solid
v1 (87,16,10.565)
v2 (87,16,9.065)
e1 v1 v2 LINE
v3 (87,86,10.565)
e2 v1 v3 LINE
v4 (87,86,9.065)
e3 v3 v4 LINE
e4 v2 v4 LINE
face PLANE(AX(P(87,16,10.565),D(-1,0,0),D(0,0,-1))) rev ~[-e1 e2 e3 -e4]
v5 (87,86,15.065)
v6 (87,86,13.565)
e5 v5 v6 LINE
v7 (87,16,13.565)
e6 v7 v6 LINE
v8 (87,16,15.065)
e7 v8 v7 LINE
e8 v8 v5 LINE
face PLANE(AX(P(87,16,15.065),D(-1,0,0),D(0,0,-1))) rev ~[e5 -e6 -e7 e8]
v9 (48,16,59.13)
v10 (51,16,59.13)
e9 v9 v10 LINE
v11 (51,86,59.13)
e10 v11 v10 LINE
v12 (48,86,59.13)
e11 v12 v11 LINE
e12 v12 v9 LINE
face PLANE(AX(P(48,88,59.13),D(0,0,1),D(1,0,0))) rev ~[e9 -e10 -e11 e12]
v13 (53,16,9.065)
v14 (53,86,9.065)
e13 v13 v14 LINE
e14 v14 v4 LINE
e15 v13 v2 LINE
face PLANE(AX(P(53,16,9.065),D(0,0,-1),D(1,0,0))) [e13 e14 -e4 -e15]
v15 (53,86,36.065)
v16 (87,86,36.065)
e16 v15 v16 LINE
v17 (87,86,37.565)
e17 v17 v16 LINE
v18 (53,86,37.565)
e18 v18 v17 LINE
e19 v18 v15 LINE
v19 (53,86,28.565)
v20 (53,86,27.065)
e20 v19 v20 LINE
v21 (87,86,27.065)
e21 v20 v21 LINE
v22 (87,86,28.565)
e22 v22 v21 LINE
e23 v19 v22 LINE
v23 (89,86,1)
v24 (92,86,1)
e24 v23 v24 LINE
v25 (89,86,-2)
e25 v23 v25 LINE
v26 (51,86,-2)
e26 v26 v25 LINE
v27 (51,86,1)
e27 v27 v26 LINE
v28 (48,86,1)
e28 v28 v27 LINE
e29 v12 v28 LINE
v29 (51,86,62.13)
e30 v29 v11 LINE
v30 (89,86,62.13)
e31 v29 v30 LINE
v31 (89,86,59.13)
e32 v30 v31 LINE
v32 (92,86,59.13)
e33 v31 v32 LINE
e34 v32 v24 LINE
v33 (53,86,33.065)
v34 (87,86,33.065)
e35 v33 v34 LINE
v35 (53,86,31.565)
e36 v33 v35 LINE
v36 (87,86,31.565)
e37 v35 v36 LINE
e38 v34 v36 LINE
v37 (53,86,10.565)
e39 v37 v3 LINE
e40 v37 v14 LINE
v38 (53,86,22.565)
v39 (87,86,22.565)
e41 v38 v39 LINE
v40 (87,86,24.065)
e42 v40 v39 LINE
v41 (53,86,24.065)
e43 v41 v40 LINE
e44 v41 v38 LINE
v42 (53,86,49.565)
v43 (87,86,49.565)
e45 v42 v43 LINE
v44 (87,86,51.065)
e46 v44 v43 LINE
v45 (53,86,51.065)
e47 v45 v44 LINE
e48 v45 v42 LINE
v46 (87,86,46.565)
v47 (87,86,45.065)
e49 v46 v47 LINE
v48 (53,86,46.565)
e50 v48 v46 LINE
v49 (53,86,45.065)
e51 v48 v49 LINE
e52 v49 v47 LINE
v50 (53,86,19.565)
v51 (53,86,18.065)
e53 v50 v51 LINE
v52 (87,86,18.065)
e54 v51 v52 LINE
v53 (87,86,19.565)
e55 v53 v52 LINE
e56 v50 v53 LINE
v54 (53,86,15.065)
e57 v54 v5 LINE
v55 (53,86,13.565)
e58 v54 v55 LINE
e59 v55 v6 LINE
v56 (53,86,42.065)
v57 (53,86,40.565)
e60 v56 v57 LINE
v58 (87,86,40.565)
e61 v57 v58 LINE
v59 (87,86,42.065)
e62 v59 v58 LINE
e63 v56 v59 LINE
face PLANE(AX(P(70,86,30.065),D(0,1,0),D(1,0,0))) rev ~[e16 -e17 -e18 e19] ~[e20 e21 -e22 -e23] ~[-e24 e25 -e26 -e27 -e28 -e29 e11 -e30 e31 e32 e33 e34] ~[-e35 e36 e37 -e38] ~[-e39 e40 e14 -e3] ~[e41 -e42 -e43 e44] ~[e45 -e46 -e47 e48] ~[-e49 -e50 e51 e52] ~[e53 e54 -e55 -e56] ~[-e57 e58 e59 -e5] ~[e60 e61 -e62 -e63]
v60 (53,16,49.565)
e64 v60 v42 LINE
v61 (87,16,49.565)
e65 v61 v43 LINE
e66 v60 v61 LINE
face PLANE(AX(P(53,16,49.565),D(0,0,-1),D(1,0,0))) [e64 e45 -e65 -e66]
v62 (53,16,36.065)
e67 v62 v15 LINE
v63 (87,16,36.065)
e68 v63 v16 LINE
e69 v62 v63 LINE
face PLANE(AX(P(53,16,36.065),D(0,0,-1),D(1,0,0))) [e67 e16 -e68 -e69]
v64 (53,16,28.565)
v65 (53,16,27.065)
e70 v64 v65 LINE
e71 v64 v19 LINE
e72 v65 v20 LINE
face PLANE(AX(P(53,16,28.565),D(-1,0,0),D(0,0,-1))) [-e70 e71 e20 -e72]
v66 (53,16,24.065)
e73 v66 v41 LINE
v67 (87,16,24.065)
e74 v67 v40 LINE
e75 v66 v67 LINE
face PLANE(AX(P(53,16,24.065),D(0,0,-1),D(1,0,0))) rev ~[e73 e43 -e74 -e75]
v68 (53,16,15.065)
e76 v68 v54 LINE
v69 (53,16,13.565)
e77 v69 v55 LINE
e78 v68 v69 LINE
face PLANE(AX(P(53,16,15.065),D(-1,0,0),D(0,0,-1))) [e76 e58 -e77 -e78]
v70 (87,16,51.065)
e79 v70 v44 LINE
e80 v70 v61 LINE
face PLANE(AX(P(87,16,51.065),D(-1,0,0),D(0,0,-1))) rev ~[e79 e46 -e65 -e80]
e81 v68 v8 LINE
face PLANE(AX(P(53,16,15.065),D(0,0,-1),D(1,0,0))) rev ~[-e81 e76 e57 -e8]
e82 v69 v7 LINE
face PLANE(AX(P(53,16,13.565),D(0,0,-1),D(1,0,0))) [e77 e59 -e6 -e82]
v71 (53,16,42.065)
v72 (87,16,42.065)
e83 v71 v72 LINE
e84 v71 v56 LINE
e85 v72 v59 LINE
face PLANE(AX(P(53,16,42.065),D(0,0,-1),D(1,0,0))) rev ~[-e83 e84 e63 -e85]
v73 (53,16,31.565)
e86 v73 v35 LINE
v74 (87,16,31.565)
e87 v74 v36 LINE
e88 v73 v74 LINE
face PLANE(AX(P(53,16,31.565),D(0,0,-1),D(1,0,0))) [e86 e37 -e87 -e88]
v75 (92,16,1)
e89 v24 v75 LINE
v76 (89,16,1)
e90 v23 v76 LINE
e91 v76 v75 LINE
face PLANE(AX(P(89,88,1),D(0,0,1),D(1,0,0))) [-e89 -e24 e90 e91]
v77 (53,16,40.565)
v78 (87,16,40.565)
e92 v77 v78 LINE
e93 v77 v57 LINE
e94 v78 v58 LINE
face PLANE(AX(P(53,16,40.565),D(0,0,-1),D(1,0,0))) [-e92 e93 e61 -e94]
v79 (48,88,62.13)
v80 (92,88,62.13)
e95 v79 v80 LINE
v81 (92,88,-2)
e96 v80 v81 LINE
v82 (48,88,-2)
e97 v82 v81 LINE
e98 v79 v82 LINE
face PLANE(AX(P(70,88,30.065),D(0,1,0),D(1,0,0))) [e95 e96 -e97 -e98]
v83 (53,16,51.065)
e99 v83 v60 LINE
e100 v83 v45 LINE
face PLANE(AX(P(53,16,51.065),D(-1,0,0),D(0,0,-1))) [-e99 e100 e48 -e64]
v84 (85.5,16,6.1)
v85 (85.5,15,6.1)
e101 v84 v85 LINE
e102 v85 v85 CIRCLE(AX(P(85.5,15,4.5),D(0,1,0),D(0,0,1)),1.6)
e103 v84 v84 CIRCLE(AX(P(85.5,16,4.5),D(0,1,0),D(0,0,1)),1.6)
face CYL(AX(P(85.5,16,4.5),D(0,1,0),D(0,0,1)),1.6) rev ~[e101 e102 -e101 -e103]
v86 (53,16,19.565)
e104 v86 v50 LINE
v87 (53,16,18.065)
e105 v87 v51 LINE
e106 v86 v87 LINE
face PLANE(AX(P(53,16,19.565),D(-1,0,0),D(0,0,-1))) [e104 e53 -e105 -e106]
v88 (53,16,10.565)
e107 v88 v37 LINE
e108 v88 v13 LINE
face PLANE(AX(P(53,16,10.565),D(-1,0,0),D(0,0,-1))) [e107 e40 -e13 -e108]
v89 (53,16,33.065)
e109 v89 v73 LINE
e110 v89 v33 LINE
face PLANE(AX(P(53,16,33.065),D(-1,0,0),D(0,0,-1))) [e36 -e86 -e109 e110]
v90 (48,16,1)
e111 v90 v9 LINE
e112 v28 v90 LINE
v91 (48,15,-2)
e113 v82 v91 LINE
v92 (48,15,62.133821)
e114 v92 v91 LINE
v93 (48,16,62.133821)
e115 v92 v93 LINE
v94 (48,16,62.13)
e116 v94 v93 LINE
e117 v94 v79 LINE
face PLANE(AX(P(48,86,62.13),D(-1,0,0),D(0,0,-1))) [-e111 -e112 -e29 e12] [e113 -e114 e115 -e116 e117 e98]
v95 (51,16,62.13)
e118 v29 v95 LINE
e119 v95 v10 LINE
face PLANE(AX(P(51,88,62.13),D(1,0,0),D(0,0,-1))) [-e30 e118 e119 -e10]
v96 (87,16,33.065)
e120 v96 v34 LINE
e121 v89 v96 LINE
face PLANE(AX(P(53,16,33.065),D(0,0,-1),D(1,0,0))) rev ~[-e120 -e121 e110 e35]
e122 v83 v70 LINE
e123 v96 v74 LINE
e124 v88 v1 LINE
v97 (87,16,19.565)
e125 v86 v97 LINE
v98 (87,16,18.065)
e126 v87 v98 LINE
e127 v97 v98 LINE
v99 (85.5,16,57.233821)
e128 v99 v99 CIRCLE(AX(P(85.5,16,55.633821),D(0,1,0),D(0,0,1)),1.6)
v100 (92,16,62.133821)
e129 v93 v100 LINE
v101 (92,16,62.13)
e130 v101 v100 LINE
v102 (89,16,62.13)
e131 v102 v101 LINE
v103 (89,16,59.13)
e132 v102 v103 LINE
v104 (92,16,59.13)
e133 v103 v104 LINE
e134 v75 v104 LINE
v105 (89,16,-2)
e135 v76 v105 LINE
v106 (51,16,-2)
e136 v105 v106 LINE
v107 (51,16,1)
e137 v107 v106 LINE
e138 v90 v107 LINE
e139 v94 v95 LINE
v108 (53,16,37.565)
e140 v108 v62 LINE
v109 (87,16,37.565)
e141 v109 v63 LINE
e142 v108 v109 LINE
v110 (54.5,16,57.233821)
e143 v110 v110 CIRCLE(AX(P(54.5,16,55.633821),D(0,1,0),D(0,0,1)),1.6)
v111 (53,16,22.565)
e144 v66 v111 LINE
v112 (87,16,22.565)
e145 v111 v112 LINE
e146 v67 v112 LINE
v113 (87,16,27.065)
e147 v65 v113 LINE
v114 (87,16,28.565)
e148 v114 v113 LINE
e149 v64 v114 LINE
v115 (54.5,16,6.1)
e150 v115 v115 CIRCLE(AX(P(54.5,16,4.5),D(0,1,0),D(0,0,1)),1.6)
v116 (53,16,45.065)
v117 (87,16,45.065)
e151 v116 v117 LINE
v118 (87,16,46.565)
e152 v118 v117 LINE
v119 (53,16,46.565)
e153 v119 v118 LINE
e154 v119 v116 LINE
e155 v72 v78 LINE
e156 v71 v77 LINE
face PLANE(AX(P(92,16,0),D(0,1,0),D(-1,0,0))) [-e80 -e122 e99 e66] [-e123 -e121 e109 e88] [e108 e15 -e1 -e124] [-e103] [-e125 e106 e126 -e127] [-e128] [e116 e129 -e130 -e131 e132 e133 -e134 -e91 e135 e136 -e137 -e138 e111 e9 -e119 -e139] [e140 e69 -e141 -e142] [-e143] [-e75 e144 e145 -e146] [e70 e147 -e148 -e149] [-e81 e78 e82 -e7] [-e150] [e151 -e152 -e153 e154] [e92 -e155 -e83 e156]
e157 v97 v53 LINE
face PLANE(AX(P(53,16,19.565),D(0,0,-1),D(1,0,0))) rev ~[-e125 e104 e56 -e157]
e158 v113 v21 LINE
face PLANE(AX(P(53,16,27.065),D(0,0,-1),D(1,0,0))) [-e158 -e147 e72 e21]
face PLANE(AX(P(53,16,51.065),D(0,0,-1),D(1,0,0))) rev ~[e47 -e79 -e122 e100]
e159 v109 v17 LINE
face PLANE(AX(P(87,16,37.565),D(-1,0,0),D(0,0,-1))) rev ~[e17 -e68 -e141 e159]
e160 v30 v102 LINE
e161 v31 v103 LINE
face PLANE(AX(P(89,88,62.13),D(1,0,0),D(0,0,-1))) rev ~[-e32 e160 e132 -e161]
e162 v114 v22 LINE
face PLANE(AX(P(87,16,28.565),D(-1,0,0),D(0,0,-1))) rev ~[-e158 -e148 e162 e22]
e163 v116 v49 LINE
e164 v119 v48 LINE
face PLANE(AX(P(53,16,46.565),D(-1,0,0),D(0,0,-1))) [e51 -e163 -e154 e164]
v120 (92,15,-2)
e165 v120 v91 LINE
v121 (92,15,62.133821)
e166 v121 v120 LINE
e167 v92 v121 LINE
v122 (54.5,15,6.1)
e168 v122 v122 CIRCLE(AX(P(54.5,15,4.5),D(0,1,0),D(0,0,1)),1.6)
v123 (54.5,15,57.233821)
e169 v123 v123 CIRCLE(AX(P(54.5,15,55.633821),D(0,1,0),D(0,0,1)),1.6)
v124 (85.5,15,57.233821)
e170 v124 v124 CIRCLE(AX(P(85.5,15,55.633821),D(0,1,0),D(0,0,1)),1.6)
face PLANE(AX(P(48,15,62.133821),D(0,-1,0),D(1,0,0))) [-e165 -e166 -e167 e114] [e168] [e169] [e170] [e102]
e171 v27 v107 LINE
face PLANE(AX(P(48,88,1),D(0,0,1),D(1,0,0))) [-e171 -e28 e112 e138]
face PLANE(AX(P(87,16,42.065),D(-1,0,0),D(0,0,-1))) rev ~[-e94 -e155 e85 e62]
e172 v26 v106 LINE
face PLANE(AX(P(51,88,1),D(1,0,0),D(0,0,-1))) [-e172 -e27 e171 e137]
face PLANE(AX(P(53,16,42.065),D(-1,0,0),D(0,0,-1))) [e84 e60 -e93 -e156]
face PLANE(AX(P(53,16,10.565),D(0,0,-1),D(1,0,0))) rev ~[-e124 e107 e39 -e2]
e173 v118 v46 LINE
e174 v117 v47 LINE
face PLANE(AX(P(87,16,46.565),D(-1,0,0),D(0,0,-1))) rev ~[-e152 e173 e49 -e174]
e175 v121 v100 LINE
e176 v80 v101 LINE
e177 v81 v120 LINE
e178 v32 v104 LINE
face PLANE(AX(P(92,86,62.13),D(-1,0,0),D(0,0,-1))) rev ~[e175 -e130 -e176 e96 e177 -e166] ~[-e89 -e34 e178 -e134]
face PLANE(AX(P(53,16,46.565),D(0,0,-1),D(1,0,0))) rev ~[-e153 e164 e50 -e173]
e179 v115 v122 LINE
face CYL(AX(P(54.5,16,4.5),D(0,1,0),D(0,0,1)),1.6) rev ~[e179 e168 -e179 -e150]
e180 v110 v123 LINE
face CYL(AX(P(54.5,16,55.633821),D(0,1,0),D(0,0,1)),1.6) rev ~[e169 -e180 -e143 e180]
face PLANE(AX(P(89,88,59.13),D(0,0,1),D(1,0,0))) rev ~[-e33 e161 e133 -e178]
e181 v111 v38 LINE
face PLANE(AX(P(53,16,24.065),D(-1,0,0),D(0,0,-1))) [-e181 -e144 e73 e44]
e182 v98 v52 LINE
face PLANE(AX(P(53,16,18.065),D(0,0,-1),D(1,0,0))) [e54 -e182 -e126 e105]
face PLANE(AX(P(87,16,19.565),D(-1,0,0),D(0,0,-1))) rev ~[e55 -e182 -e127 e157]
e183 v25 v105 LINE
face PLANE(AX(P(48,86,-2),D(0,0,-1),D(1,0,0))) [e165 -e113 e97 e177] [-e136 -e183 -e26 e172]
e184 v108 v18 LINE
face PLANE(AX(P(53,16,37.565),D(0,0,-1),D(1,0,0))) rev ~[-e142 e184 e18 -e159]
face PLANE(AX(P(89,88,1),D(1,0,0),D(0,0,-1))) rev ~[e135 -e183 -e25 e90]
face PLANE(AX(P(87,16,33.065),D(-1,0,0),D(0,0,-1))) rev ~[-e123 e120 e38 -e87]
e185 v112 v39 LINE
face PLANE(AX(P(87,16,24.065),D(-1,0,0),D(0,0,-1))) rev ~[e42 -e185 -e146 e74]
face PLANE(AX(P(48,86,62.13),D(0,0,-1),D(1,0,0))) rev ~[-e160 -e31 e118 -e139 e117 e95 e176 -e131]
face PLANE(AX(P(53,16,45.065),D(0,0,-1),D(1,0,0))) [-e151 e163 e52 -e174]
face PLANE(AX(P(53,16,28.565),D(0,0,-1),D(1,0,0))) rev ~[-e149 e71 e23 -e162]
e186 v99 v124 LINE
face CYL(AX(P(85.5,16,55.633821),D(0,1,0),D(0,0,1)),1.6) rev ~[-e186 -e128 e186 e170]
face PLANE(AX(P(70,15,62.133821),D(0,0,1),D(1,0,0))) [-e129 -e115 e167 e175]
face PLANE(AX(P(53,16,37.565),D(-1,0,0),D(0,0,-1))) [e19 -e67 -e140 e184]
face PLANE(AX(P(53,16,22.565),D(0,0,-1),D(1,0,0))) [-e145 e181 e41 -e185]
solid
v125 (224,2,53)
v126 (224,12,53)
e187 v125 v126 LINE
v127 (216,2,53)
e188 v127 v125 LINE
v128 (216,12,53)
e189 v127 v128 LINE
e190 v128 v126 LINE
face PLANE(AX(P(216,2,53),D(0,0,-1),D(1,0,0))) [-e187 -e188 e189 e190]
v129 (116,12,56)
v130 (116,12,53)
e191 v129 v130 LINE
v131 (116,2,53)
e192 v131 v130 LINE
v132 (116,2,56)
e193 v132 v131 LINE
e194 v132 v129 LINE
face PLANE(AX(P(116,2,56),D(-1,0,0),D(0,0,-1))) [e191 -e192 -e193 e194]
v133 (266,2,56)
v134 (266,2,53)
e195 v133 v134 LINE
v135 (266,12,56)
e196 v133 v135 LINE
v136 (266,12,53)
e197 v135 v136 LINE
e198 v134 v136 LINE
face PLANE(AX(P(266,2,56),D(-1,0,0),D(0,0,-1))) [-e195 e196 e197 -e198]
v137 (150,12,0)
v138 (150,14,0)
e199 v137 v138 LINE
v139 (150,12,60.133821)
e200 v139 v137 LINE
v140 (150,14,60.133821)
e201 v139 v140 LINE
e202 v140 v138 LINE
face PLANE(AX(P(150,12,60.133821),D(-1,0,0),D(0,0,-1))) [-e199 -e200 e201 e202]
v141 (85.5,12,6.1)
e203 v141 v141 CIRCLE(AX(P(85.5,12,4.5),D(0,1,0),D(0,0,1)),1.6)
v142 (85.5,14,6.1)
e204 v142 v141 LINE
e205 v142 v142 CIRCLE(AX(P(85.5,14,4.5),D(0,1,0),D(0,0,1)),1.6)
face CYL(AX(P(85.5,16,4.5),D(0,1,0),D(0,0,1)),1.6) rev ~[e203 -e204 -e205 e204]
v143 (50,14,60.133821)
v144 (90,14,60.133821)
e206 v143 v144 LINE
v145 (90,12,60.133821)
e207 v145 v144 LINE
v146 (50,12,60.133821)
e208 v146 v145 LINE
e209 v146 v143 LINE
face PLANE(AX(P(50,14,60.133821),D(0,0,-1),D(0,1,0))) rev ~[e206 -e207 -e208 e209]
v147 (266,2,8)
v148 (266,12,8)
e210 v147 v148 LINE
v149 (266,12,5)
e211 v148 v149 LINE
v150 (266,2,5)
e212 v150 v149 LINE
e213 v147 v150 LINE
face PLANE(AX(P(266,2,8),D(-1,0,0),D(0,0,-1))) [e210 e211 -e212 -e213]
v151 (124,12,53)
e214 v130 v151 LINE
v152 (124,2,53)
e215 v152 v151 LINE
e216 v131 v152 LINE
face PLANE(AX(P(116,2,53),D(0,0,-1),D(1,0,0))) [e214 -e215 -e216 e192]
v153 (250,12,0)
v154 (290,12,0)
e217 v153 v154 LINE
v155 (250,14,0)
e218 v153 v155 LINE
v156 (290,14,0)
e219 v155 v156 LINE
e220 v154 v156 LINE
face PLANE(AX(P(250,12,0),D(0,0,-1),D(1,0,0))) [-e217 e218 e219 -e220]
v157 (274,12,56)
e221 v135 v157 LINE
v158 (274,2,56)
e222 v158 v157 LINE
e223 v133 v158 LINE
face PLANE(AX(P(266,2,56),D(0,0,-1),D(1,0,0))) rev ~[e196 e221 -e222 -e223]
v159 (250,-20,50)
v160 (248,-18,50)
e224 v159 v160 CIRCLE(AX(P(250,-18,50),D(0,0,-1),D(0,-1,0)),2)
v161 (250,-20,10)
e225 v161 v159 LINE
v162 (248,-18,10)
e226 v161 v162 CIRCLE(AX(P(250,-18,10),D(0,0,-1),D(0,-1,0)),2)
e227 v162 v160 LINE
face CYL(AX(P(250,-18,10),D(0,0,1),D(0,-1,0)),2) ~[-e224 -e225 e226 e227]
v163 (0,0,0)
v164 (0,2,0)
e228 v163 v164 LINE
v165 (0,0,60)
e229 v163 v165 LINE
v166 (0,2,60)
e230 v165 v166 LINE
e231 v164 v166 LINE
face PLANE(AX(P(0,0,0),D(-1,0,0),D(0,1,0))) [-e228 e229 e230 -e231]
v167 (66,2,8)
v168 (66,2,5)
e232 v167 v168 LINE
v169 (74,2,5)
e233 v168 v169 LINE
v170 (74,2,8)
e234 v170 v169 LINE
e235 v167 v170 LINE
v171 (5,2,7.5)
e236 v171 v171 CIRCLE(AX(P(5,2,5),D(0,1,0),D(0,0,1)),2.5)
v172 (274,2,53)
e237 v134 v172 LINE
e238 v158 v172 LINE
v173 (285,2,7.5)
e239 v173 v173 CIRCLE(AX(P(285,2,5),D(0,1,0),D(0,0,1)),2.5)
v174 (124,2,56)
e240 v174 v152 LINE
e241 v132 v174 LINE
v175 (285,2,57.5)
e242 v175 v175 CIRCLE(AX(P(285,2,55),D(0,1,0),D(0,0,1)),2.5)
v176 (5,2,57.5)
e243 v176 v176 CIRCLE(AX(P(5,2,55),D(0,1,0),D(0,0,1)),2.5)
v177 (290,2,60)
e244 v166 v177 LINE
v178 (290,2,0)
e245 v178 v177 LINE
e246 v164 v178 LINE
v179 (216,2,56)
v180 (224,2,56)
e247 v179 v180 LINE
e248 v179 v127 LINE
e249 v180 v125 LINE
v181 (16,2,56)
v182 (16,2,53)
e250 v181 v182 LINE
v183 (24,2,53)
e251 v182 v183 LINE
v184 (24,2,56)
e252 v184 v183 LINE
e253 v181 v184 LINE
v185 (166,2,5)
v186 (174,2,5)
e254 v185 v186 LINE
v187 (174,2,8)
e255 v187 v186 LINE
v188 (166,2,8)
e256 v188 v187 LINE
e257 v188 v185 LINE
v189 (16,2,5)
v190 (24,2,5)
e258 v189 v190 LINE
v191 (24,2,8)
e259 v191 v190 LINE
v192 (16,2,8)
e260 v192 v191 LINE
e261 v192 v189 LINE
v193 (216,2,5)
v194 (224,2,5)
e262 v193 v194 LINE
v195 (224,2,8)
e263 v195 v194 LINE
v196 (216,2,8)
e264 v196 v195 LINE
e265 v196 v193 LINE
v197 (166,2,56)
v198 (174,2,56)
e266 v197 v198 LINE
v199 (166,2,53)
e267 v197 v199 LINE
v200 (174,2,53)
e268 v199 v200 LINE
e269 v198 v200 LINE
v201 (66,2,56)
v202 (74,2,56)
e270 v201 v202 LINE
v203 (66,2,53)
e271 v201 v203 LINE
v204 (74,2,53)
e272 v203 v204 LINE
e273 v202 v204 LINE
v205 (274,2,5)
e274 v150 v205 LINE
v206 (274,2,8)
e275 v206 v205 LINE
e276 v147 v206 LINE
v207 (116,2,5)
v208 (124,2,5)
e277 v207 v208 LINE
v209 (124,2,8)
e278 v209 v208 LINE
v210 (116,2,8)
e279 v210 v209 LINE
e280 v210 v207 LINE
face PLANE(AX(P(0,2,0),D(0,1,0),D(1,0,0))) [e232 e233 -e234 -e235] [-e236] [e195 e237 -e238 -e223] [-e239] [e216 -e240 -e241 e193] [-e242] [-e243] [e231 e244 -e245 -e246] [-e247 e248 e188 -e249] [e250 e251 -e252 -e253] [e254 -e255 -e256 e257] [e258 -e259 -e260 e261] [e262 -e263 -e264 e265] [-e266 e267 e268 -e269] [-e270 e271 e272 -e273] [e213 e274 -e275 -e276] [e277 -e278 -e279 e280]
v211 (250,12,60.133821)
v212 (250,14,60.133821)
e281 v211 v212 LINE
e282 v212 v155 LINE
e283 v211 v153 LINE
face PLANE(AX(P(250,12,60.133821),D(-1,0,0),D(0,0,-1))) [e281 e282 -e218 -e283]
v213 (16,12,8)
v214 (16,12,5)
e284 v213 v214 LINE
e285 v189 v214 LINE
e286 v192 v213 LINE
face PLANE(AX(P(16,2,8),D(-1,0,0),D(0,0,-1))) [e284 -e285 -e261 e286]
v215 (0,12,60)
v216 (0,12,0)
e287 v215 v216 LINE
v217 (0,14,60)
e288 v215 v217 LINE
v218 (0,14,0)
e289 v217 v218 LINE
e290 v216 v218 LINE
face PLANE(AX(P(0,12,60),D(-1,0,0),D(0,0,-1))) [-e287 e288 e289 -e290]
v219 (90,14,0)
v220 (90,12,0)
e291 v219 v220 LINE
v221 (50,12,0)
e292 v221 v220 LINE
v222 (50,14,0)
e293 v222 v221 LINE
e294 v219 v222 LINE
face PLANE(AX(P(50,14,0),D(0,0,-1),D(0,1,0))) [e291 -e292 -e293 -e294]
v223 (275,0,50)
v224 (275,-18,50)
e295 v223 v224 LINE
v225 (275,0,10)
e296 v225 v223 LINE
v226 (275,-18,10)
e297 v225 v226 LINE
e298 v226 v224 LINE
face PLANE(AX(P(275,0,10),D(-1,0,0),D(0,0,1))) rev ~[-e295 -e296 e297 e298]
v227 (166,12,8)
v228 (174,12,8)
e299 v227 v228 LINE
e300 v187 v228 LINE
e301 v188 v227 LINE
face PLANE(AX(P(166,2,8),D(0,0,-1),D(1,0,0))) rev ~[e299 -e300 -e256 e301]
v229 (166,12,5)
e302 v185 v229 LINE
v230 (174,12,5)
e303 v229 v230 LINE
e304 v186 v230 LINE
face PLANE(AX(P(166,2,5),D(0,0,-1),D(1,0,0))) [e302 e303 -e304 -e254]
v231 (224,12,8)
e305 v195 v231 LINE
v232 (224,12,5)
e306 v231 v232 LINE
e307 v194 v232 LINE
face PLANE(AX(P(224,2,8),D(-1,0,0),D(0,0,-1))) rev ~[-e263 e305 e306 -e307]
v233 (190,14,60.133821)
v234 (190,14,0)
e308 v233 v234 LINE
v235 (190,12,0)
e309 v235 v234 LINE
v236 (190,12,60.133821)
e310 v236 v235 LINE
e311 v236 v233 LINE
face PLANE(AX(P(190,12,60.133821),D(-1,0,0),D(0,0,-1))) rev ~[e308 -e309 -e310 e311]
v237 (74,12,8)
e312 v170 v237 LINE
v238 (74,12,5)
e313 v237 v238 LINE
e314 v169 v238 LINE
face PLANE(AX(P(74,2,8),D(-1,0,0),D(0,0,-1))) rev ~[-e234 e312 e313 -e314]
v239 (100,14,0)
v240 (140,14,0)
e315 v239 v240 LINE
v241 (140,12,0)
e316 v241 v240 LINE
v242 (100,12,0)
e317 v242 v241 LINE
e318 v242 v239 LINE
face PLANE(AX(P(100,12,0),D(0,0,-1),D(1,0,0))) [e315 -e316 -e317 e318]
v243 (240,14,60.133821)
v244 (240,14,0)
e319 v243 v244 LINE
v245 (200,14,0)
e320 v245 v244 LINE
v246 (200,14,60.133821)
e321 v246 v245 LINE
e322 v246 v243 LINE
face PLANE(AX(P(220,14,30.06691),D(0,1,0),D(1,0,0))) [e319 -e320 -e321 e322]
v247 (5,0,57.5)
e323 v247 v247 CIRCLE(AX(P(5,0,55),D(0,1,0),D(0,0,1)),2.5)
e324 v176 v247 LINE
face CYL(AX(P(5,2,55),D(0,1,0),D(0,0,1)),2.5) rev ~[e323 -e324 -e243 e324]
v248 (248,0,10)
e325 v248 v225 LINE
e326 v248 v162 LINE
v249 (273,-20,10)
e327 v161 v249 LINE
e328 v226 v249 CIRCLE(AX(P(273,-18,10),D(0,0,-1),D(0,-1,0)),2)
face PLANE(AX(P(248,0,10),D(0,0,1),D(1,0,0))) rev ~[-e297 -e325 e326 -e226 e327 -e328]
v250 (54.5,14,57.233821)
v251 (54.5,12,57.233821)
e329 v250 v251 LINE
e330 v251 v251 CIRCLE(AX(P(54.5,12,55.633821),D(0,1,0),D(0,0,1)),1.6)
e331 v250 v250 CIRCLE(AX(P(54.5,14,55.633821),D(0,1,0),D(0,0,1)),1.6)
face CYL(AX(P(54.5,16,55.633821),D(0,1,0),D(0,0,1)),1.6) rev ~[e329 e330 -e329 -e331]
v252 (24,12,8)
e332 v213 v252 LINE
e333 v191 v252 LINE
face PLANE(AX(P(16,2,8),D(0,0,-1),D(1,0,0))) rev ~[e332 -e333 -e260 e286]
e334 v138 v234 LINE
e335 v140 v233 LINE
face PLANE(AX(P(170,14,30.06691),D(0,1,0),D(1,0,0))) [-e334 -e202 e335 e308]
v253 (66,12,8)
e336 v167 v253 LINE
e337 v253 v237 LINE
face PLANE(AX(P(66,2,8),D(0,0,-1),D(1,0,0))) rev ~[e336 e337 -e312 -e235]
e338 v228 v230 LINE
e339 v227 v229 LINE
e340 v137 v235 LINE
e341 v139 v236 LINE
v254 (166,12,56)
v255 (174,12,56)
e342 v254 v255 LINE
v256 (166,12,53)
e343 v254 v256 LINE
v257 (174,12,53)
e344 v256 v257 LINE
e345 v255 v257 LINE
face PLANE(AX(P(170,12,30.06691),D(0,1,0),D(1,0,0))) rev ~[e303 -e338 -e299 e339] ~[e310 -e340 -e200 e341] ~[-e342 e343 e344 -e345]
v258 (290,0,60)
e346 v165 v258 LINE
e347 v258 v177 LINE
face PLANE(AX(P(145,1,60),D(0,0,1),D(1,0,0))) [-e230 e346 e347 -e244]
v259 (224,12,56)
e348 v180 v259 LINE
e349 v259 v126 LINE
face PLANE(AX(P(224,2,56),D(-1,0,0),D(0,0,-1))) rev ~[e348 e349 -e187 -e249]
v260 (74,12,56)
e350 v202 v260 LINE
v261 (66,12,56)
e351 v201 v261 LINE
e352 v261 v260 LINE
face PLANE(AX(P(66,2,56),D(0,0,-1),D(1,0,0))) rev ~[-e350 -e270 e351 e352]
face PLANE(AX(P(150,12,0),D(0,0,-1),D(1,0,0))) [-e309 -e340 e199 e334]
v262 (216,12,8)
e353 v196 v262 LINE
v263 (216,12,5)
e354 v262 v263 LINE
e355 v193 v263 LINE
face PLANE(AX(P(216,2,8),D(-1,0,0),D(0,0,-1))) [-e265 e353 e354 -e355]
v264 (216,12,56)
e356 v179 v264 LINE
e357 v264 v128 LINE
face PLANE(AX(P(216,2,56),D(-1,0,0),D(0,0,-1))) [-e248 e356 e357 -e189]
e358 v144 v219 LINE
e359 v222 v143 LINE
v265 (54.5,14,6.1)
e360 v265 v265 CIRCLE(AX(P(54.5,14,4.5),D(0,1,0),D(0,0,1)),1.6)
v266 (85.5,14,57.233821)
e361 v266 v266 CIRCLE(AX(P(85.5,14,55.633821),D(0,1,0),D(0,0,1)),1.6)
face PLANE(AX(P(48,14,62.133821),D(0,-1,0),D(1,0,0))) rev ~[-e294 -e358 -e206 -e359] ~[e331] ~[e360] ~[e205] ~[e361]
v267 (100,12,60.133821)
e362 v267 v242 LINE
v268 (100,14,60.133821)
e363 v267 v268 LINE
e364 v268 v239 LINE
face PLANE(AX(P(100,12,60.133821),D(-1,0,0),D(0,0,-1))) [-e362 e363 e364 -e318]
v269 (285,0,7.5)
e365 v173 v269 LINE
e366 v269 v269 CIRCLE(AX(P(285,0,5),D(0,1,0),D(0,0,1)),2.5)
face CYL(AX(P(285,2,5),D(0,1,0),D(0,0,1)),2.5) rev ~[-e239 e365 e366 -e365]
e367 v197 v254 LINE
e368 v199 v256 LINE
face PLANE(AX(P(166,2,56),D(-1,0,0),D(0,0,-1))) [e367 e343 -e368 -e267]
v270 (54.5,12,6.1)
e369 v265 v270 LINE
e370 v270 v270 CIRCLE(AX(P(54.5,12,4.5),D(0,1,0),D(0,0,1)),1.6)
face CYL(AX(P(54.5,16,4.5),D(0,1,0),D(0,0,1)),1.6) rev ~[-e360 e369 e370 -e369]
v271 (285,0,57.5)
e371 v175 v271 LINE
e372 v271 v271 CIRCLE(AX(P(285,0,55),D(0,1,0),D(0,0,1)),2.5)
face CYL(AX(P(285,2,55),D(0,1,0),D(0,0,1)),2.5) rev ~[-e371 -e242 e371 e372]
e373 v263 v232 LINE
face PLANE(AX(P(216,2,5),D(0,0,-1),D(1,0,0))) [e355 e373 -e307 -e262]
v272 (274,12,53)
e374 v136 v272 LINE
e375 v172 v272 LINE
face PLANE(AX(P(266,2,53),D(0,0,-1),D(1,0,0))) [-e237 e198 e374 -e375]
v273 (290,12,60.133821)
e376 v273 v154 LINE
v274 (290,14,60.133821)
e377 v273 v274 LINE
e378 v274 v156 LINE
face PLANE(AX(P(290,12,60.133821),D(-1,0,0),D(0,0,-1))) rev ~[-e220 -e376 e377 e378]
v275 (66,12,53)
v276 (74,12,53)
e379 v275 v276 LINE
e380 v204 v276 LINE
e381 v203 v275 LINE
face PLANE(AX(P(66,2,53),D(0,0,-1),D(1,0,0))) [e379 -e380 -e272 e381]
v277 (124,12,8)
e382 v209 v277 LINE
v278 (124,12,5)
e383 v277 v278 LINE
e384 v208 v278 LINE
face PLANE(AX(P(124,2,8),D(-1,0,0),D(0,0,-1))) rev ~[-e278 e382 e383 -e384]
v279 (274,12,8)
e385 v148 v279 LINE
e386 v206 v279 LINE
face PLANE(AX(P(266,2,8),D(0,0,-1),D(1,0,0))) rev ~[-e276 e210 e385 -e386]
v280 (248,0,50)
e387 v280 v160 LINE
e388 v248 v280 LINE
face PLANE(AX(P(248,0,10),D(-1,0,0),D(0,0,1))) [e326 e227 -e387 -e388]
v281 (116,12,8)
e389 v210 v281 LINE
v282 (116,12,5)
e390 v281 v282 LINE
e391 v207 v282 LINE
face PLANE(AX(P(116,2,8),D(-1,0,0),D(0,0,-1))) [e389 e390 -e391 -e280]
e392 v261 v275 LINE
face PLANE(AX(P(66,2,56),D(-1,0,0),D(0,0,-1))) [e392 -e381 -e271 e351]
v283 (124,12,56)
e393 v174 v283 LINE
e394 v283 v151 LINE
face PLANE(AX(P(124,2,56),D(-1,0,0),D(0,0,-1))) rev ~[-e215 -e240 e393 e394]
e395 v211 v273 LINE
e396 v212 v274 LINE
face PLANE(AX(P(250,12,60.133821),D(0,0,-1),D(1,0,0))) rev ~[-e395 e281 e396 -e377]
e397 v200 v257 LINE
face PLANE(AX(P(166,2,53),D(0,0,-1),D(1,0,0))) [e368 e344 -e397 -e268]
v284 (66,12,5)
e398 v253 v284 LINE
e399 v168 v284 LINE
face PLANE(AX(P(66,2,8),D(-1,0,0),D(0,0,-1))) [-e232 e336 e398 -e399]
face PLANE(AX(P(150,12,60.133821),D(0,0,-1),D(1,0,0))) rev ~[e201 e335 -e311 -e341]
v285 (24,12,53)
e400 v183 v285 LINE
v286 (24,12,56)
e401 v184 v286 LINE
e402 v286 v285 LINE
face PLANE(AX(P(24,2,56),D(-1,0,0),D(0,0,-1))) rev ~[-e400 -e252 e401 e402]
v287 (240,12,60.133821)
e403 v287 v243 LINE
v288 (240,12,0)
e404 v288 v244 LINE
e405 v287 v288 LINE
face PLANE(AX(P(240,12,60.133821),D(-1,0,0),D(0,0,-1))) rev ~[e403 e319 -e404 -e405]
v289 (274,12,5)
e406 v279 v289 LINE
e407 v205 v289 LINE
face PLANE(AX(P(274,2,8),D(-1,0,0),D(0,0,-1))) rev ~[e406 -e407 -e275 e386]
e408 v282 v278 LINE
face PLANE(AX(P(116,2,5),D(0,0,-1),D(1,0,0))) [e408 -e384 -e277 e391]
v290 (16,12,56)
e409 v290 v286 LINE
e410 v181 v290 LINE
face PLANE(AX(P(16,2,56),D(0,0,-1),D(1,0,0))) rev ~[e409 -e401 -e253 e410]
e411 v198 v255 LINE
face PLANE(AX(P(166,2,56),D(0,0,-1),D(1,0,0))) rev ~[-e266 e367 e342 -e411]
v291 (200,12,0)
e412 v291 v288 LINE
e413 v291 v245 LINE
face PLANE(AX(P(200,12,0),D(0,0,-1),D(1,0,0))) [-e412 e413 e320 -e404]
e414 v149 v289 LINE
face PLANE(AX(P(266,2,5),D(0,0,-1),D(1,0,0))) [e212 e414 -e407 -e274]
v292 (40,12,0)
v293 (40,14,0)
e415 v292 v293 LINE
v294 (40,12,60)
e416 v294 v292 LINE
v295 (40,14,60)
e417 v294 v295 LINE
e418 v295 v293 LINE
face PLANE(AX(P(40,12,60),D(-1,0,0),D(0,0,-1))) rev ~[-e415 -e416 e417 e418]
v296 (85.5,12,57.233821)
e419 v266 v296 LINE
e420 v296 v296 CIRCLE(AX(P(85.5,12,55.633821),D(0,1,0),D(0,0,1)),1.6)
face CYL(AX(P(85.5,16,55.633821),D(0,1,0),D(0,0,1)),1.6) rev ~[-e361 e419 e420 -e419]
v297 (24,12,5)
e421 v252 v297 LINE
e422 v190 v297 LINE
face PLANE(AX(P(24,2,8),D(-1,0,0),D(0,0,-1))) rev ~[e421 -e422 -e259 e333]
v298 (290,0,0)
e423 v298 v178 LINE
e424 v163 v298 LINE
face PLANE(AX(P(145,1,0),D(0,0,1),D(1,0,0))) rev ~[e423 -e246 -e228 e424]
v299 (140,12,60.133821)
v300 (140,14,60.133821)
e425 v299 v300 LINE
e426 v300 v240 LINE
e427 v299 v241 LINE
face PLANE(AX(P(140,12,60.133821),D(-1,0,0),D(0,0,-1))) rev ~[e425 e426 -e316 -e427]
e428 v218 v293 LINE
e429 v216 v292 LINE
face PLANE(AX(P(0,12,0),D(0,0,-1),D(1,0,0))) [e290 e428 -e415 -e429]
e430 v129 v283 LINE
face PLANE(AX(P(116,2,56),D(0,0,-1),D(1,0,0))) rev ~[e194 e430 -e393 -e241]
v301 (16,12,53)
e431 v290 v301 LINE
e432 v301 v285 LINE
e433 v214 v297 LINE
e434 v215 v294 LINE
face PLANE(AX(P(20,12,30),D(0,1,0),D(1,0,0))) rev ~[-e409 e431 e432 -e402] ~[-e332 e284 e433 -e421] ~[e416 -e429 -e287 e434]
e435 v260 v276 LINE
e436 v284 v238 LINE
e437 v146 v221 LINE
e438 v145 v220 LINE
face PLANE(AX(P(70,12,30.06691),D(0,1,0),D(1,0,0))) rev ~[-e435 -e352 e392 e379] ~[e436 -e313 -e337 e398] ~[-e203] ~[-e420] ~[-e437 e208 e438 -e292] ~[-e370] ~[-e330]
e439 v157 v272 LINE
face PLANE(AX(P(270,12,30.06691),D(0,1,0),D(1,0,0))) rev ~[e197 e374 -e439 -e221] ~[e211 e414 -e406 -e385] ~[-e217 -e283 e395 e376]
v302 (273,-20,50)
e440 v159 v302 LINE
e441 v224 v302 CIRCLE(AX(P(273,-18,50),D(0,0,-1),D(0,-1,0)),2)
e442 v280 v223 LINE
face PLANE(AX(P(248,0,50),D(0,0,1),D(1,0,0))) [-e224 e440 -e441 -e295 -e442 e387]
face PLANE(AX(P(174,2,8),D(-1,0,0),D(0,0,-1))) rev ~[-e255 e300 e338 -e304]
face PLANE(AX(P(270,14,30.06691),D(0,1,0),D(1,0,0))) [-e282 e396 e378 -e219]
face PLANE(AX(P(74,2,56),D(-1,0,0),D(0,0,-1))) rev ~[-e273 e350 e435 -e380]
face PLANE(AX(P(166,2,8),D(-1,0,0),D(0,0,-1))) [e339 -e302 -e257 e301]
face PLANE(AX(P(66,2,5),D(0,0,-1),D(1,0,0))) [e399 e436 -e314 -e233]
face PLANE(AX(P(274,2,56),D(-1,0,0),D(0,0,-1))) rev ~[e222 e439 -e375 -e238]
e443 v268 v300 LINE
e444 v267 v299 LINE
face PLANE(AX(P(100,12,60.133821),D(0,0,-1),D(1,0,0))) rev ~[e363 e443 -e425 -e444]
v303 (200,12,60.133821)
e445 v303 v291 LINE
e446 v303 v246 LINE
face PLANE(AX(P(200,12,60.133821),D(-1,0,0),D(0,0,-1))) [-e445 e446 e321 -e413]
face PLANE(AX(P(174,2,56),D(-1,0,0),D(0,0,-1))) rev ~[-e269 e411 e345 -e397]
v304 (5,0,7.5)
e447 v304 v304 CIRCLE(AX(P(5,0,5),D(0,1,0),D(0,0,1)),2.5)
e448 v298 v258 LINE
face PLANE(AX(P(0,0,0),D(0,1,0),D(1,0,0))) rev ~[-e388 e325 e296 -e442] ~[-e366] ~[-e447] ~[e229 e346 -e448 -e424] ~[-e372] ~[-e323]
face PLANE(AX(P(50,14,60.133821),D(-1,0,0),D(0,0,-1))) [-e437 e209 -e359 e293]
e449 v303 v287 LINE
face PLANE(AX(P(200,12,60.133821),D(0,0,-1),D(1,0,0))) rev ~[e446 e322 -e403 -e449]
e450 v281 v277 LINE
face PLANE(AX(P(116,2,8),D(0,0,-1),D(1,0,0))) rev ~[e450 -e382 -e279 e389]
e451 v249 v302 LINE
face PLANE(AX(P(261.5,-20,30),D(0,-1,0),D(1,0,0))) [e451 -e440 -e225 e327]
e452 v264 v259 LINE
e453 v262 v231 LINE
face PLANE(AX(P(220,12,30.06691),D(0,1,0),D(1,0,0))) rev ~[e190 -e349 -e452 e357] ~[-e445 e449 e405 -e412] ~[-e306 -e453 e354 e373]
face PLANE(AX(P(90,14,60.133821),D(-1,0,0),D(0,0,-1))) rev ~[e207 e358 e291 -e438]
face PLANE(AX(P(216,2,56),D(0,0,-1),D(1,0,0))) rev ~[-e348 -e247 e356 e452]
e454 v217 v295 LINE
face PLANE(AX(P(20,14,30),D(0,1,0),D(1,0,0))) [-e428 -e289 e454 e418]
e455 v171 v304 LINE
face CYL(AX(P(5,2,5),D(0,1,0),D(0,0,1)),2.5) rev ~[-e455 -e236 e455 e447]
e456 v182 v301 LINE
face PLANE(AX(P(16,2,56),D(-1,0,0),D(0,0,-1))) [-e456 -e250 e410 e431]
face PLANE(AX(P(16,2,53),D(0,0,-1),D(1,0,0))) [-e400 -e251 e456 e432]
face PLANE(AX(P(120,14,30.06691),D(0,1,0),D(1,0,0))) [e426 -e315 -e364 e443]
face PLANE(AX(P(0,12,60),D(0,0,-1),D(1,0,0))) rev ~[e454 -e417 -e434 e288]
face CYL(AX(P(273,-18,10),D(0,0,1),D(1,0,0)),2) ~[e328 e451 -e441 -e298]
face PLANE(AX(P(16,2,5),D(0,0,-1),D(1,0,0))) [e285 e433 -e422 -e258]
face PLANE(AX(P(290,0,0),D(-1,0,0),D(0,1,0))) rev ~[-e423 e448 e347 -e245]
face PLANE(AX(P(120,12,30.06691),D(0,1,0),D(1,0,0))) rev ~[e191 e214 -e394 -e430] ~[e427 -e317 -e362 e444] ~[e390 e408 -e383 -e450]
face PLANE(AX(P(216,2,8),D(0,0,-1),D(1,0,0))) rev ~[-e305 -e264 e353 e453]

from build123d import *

# Parameters (mm, degrees)
SKIZZE1_W                        = 290
SKIZZE1_H                        = 2
AUFSATZ_LINEAR_AUSTRAGEN1_DEPTH  = 60
SKIZZE2_R                        = 2.5
SCHNITT_LINEAR_AUSTRAGEN1_DEPTH  = 60
SKIZZE3_W                        = 8
SKIZZE3_H                        = 3
AUFSATZ_LINEAR_AUSTRAGEN2_DEPTH  = 10
SKIZZE4_W                        = 40
SKIZZE4_H                        = 60
SKIZZE4_H_2                      = 60.133820733
AUFSATZ_LINEAR_AUSTRAGEN3_DEPTH  = 2
SKIZZE6_W                        = 40
SKIZZE6_H                        = 60.133820733
AUFSATZ_LINEAR_AUSTRAGEN4_DEPTH  = 2
SKIZZE7_W                        = 60.133820733
SKIZZE7_H                        = 2
AUFSATZ_LINEAR_AUSTRAGEN5_DEPTH  = 2
SKIZZE8_W                        = 60.133820733
SKIZZE8_H                        = 2
AUFSATZ_LINEAR_AUSTRAGEN6_DEPTH  = 2
SKIZZE9_W                        = 44
SKIZZE9_H                        = 2
AUFSATZ_LINEAR_AUSTRAGEN7_DEPTH  = 2
SKIZZE10_W                       = 44
SKIZZE10_H                       = 2
AUFSATZ_LINEAR_AUSTRAGEN8_DEPTH  = 2
SKIZZE11_W                       = 34
SKIZZE11_H                       = 1.5
AUFSATZ_LINEAR_AUSTRAGEN9_DEPTH  = 70
SKIZZE12_W                       = 44
SKIZZE12_H                       = 1
SCHNITT_LINEAR_AUSTRAGEN3_DEPTH  = 70
SKIZZE13_W                       = 44
SKIZZE13_H                       = 64.13
AUFSATZ_LINEAR_AUSTRAGEN10_DEPTH = 2
SKIZZE14_W                       = 3
SKIZZE14_H                       = 3
AUFSATZ_LINEAR_AUSTRAGEN11_DEPTH = 72
SKIZZE15_W                       = 27
SKIZZE15_H                       = 40
AUFSATZ_LINEAR_AUSTRAGEN12_DEPTH = 20
VERRUNDUNG2_R                    = 2
VERRUNDUNG3_R                    = 2
SKIZZE18_R                       = 1.6
SCHNITT_LINEAR_AUSTRAGEN4_DEPTH  = 10


with BuildPart() as part:
    # Skizze1 → Aufsatz-Linear austragen1 (new body)
    with BuildSketch(Plane.XY):
        with Locations((145, 1)):
            Rectangle(SKIZZE1_W, SKIZZE1_H)
    extrude(amount=AUFSATZ_LINEAR_AUSTRAGEN1_DEPTH)

    # Skizze2 → Schnitt-Linear austragen1 (cut)
    with BuildSketch(Plane(origin=(0, 2, 0), x_dir=(1, 0, 0), z_dir=(0, 1, 0))):
        with Locations(Location((5, -5, 0), (0, 0, 270))):
            Circle(SKIZZE2_R)
        with Locations(Location((5, -55, 0), (0, 0, 270))):
            Circle(SKIZZE2_R)
        with Locations(Location((285, -55, 0), (0, 0, 270))):
            Circle(SKIZZE2_R)
        with Locations(Location((285, -5, 0), (0, 0, 270))):
            Circle(SKIZZE2_R)
    extrude(amount=-SCHNITT_LINEAR_AUSTRAGEN1_DEPTH, mode=Mode.SUBTRACT)

    # Skizze3 → Aufsatz-Linear austragen2 (add)
    with BuildSketch(Plane(origin=(0, 2, 0), x_dir=(1, 0, 0), z_dir=(0, 1, 0))):
        with Locations((20, -6.5)):
            Rectangle(SKIZZE3_W, SKIZZE3_H)
        with Locations((70, -6.5)):
            Rectangle(SKIZZE3_W, SKIZZE3_H)
        with Locations((120, -6.5)):
            Rectangle(SKIZZE3_W, SKIZZE3_H)
        with Locations((170, -6.5)):
            Rectangle(SKIZZE3_W, SKIZZE3_H)
        with Locations((220, -6.5)):
            Rectangle(SKIZZE3_W, SKIZZE3_H)
        with Locations((270, -6.5)):
            Rectangle(SKIZZE3_W, SKIZZE3_H)
        with Locations((270, -54.5)):
            Rectangle(SKIZZE3_W, SKIZZE3_H)
        with Locations((220, -54.5)):
            Rectangle(SKIZZE3_W, SKIZZE3_H)
        with Locations((170, -54.5)):
            Rectangle(SKIZZE3_W, SKIZZE3_H)
        with Locations((120, -54.5)):
            Rectangle(SKIZZE3_W, SKIZZE3_H)
        with Locations((70, -54.5)):
            Rectangle(SKIZZE3_W, SKIZZE3_H)
        with Locations((20, -54.5)):
            Rectangle(SKIZZE3_W, SKIZZE3_H)
    extrude(amount=AUFSATZ_LINEAR_AUSTRAGEN2_DEPTH)

    # Skizze4 → Aufsatz-Linear austragen3 (add)
    with BuildSketch(Plane(origin=(0, 12, 0), x_dir=(1, 0, 0), z_dir=(0, 1, 0))):
        with Locations((20, -30)):
            Rectangle(SKIZZE4_W, SKIZZE4_H)
        with Locations((70, -30.066910367)):
            Rectangle(SKIZZE4_W, SKIZZE4_H_2)
        with Locations((120, -30.066910367)):
            Rectangle(SKIZZE4_W, SKIZZE4_H_2)
        with Locations((170, -30.066910367)):
            Rectangle(SKIZZE4_W, SKIZZE4_H_2)
        with Locations((220, -30.066910367)):
            Rectangle(SKIZZE4_W, SKIZZE4_H_2)
        with Locations((270, -30.066910367)):
            Rectangle(SKIZZE4_W, SKIZZE4_H_2)
    extrude(amount=AUFSATZ_LINEAR_AUSTRAGEN3_DEPTH)

    # Skizze6 → Aufsatz-Linear austragen4 (add)
    with BuildSketch(Plane(origin=(0, 14, 0), x_dir=(1, 0, 0), z_dir=(0, 1, 0))):
        with Locations((70, -30.066910367)):
            Rectangle(SKIZZE6_W, SKIZZE6_H)
    extrude(amount=AUFSATZ_LINEAR_AUSTRAGEN4_DEPTH)

    # Skizze7 → Aufsatz-Linear austragen5 (add)
    with BuildSketch(Plane(origin=(90, 0, 0), x_dir=(0, 0, -1), z_dir=(1, 0, 0))):
        with Locations((-30.066910367, 15)):
            Rectangle(SKIZZE7_W, SKIZZE7_H)
    extrude(amount=AUFSATZ_LINEAR_AUSTRAGEN5_DEPTH)

    # Skizze8 → Aufsatz-Linear austragen6 (add)
    with BuildSketch(Plane.ZY.offset(-50)):
        with Locations((30.066910367, 15)):
            Rectangle(SKIZZE8_W, SKIZZE8_H)
    extrude(amount=AUFSATZ_LINEAR_AUSTRAGEN6_DEPTH)

    # Skizze9 → Aufsatz-Linear austragen7 (add)
    with BuildSketch(Plane.XY.offset(60.133820733)):
        with Locations((70, 15)):
            Rectangle(SKIZZE9_W, SKIZZE9_H)
    extrude(amount=AUFSATZ_LINEAR_AUSTRAGEN7_DEPTH)

    # Skizze10 → Aufsatz-Linear austragen8 (add)
    with BuildSketch(Plane(origin=(0, 0, 0), x_dir=(-1, 0, 0), z_dir=(0, 0, -1))):
        with Locations((-70, 15)):
            Rectangle(SKIZZE10_W, SKIZZE10_H)
    extrude(amount=AUFSATZ_LINEAR_AUSTRAGEN8_DEPTH)

    # Skizze11 → Aufsatz-Linear austragen9 (add)
    with BuildSketch(Plane(origin=(0, 16, 0), x_dir=(1, 0, 0), z_dir=(0, 1, 0))):
        with Locations((70, -9.815)):
            Rectangle(SKIZZE11_W, SKIZZE11_H)
        with Locations((70, -14.315)):
            Rectangle(SKIZZE11_W, SKIZZE11_H)
        with Locations((70, -18.815)):
            Rectangle(SKIZZE11_W, SKIZZE11_H)
        with Locations((70, -23.315)):
            Rectangle(SKIZZE11_W, SKIZZE11_H)
        with Locations((70, -27.815)):
            Rectangle(SKIZZE11_W, SKIZZE11_H)
        with Locations((70, -32.315)):
            Rectangle(SKIZZE11_W, SKIZZE11_H)
        with Locations((70, -36.815)):
            Rectangle(SKIZZE11_W, SKIZZE11_H)
        with Locations((70, -41.315)):
            Rectangle(SKIZZE11_W, SKIZZE11_H)
        with Locations((70, -45.815)):
            Rectangle(SKIZZE11_W, SKIZZE11_H)
        with Locations((70, -50.315)):
            Rectangle(SKIZZE11_W, SKIZZE11_H)
    extrude(amount=AUFSATZ_LINEAR_AUSTRAGEN9_DEPTH)

    # Skizze12 → Schnitt-Linear austragen3 (cut)
    with BuildSketch(Plane.XY.offset(62.133820733)):
        with Locations((70, 14.5)):
            Rectangle(SKIZZE12_W, SKIZZE12_H)
    extrude(amount=-SCHNITT_LINEAR_AUSTRAGEN3_DEPTH, mode=Mode.SUBTRACT)


with BuildPart() as schnitt_linear_austragen3_piece_1:
    # of the separate pieces the step leaves, piece 1, a body of its own (schnitt_linear_austragen3_pieces)
    add(part.part.solids().sort_by_distance((0, 12, 0))[0])

    # Skizze15 → Aufsatz-Linear austragen12 (add)
    with BuildSketch(Plane.XZ):
        with Locations((261.5, 30)):
            Rectangle(SKIZZE15_W, SKIZZE15_H)
    extrude(amount=AUFSATZ_LINEAR_AUSTRAGEN12_DEPTH)

    # Verrundung2
    verrundung2_edges = [schnitt_linear_austragen3_piece_1.edges().sort_by_distance(p)[0] for p in [
        (275, -20, 30),
    ]]
    fillet(verrundung2_edges, radius=VERRUNDUNG2_R)

    # Verrundung3
    verrundung3_edges = [schnitt_linear_austragen3_piece_1.edges().sort_by_distance(p)[0] for p in [
        (248, -20, 30),
    ]]
    fillet(verrundung3_edges, radius=VERRUNDUNG3_R)


with BuildPart() as schnitt_linear_austragen3_piece_2:
    # of the separate pieces the step leaves, piece 2, a body of its own (schnitt_linear_austragen3_pieces)
    add(part.part.solids().sort_by_distance((92, 15, -2))[0])

    # Skizze13 → Aufsatz-Linear austragen10 (add)
    with BuildSketch(Plane(origin=(0, 86, 0), x_dir=(1, 0, 0), z_dir=(0, 1, 0))):
        with Locations((70, -30.065)):
            Rectangle(SKIZZE13_W, SKIZZE13_H)
    extrude(amount=AUFSATZ_LINEAR_AUSTRAGEN10_DEPTH)

    # Skizze14 → Aufsatz-Linear austragen11 (add)
    with BuildSketch(Plane(origin=(0, 88, 0), x_dir=(1, 0, 0), z_dir=(0, 1, 0))):
        with Locations((49.5, 0.5)):
            Rectangle(SKIZZE14_W, SKIZZE14_H)
        with Locations((90.5, 0.5)):
            Rectangle(SKIZZE14_W, SKIZZE14_H)
        with Locations((90.5, -60.63)):
            Rectangle(SKIZZE14_W, SKIZZE14_H)
        with Locations((49.5, -60.63)):
            Rectangle(SKIZZE14_W, SKIZZE14_H)
    extrude(amount=-AUFSATZ_LINEAR_AUSTRAGEN11_DEPTH)


with BuildPart() as schnitt_linear_austragen4_tool:
    # Skizze18 → Schnitt-Linear austragen4 (new body)
    with BuildSketch(Plane(origin=(0, 16, 0), x_dir=(1, 0, 0), z_dir=(0, 1, 0))):
        with Locations(Location((54.5, -4.5, 0), (0, 0, 270))):
            Circle(SKIZZE18_R)
        with Locations(Location((54.5, -55.633820733, 0), (0, 0, 270))):
            Circle(SKIZZE18_R)
        with Locations(Location((85.5, -55.633820733, 0), (0, 0, 270))):
            Circle(SKIZZE18_R)
        with Locations(Location((85.5, -4.5, 0), (0, 0, 270))):
            Circle(SKIZZE18_R)
    extrude(amount=-SCHNITT_LINEAR_AUSTRAGEN4_DEPTH)


with BuildPart() as schnitt_linear_austragen3_piece_1_1:
    add(schnitt_linear_austragen3_piece_1.part)

    # Schnitt-Linear austragen4: cut by schnitt_linear_austragen4_tool
    add(schnitt_linear_austragen4_tool.part, mode=Mode.SUBTRACT)


with BuildPart() as schnitt_linear_austragen3_piece_2_1:
    add(schnitt_linear_austragen3_piece_2.part)

    # Schnitt-Linear austragen4: cut by schnitt_linear_austragen4_tool
    add(schnitt_linear_austragen4_tool.part, mode=Mode.SUBTRACT)


solid = Compound([schnitt_linear_austragen3_piece_1_1.part, schnitt_linear_austragen3_piece_2_1.part])
